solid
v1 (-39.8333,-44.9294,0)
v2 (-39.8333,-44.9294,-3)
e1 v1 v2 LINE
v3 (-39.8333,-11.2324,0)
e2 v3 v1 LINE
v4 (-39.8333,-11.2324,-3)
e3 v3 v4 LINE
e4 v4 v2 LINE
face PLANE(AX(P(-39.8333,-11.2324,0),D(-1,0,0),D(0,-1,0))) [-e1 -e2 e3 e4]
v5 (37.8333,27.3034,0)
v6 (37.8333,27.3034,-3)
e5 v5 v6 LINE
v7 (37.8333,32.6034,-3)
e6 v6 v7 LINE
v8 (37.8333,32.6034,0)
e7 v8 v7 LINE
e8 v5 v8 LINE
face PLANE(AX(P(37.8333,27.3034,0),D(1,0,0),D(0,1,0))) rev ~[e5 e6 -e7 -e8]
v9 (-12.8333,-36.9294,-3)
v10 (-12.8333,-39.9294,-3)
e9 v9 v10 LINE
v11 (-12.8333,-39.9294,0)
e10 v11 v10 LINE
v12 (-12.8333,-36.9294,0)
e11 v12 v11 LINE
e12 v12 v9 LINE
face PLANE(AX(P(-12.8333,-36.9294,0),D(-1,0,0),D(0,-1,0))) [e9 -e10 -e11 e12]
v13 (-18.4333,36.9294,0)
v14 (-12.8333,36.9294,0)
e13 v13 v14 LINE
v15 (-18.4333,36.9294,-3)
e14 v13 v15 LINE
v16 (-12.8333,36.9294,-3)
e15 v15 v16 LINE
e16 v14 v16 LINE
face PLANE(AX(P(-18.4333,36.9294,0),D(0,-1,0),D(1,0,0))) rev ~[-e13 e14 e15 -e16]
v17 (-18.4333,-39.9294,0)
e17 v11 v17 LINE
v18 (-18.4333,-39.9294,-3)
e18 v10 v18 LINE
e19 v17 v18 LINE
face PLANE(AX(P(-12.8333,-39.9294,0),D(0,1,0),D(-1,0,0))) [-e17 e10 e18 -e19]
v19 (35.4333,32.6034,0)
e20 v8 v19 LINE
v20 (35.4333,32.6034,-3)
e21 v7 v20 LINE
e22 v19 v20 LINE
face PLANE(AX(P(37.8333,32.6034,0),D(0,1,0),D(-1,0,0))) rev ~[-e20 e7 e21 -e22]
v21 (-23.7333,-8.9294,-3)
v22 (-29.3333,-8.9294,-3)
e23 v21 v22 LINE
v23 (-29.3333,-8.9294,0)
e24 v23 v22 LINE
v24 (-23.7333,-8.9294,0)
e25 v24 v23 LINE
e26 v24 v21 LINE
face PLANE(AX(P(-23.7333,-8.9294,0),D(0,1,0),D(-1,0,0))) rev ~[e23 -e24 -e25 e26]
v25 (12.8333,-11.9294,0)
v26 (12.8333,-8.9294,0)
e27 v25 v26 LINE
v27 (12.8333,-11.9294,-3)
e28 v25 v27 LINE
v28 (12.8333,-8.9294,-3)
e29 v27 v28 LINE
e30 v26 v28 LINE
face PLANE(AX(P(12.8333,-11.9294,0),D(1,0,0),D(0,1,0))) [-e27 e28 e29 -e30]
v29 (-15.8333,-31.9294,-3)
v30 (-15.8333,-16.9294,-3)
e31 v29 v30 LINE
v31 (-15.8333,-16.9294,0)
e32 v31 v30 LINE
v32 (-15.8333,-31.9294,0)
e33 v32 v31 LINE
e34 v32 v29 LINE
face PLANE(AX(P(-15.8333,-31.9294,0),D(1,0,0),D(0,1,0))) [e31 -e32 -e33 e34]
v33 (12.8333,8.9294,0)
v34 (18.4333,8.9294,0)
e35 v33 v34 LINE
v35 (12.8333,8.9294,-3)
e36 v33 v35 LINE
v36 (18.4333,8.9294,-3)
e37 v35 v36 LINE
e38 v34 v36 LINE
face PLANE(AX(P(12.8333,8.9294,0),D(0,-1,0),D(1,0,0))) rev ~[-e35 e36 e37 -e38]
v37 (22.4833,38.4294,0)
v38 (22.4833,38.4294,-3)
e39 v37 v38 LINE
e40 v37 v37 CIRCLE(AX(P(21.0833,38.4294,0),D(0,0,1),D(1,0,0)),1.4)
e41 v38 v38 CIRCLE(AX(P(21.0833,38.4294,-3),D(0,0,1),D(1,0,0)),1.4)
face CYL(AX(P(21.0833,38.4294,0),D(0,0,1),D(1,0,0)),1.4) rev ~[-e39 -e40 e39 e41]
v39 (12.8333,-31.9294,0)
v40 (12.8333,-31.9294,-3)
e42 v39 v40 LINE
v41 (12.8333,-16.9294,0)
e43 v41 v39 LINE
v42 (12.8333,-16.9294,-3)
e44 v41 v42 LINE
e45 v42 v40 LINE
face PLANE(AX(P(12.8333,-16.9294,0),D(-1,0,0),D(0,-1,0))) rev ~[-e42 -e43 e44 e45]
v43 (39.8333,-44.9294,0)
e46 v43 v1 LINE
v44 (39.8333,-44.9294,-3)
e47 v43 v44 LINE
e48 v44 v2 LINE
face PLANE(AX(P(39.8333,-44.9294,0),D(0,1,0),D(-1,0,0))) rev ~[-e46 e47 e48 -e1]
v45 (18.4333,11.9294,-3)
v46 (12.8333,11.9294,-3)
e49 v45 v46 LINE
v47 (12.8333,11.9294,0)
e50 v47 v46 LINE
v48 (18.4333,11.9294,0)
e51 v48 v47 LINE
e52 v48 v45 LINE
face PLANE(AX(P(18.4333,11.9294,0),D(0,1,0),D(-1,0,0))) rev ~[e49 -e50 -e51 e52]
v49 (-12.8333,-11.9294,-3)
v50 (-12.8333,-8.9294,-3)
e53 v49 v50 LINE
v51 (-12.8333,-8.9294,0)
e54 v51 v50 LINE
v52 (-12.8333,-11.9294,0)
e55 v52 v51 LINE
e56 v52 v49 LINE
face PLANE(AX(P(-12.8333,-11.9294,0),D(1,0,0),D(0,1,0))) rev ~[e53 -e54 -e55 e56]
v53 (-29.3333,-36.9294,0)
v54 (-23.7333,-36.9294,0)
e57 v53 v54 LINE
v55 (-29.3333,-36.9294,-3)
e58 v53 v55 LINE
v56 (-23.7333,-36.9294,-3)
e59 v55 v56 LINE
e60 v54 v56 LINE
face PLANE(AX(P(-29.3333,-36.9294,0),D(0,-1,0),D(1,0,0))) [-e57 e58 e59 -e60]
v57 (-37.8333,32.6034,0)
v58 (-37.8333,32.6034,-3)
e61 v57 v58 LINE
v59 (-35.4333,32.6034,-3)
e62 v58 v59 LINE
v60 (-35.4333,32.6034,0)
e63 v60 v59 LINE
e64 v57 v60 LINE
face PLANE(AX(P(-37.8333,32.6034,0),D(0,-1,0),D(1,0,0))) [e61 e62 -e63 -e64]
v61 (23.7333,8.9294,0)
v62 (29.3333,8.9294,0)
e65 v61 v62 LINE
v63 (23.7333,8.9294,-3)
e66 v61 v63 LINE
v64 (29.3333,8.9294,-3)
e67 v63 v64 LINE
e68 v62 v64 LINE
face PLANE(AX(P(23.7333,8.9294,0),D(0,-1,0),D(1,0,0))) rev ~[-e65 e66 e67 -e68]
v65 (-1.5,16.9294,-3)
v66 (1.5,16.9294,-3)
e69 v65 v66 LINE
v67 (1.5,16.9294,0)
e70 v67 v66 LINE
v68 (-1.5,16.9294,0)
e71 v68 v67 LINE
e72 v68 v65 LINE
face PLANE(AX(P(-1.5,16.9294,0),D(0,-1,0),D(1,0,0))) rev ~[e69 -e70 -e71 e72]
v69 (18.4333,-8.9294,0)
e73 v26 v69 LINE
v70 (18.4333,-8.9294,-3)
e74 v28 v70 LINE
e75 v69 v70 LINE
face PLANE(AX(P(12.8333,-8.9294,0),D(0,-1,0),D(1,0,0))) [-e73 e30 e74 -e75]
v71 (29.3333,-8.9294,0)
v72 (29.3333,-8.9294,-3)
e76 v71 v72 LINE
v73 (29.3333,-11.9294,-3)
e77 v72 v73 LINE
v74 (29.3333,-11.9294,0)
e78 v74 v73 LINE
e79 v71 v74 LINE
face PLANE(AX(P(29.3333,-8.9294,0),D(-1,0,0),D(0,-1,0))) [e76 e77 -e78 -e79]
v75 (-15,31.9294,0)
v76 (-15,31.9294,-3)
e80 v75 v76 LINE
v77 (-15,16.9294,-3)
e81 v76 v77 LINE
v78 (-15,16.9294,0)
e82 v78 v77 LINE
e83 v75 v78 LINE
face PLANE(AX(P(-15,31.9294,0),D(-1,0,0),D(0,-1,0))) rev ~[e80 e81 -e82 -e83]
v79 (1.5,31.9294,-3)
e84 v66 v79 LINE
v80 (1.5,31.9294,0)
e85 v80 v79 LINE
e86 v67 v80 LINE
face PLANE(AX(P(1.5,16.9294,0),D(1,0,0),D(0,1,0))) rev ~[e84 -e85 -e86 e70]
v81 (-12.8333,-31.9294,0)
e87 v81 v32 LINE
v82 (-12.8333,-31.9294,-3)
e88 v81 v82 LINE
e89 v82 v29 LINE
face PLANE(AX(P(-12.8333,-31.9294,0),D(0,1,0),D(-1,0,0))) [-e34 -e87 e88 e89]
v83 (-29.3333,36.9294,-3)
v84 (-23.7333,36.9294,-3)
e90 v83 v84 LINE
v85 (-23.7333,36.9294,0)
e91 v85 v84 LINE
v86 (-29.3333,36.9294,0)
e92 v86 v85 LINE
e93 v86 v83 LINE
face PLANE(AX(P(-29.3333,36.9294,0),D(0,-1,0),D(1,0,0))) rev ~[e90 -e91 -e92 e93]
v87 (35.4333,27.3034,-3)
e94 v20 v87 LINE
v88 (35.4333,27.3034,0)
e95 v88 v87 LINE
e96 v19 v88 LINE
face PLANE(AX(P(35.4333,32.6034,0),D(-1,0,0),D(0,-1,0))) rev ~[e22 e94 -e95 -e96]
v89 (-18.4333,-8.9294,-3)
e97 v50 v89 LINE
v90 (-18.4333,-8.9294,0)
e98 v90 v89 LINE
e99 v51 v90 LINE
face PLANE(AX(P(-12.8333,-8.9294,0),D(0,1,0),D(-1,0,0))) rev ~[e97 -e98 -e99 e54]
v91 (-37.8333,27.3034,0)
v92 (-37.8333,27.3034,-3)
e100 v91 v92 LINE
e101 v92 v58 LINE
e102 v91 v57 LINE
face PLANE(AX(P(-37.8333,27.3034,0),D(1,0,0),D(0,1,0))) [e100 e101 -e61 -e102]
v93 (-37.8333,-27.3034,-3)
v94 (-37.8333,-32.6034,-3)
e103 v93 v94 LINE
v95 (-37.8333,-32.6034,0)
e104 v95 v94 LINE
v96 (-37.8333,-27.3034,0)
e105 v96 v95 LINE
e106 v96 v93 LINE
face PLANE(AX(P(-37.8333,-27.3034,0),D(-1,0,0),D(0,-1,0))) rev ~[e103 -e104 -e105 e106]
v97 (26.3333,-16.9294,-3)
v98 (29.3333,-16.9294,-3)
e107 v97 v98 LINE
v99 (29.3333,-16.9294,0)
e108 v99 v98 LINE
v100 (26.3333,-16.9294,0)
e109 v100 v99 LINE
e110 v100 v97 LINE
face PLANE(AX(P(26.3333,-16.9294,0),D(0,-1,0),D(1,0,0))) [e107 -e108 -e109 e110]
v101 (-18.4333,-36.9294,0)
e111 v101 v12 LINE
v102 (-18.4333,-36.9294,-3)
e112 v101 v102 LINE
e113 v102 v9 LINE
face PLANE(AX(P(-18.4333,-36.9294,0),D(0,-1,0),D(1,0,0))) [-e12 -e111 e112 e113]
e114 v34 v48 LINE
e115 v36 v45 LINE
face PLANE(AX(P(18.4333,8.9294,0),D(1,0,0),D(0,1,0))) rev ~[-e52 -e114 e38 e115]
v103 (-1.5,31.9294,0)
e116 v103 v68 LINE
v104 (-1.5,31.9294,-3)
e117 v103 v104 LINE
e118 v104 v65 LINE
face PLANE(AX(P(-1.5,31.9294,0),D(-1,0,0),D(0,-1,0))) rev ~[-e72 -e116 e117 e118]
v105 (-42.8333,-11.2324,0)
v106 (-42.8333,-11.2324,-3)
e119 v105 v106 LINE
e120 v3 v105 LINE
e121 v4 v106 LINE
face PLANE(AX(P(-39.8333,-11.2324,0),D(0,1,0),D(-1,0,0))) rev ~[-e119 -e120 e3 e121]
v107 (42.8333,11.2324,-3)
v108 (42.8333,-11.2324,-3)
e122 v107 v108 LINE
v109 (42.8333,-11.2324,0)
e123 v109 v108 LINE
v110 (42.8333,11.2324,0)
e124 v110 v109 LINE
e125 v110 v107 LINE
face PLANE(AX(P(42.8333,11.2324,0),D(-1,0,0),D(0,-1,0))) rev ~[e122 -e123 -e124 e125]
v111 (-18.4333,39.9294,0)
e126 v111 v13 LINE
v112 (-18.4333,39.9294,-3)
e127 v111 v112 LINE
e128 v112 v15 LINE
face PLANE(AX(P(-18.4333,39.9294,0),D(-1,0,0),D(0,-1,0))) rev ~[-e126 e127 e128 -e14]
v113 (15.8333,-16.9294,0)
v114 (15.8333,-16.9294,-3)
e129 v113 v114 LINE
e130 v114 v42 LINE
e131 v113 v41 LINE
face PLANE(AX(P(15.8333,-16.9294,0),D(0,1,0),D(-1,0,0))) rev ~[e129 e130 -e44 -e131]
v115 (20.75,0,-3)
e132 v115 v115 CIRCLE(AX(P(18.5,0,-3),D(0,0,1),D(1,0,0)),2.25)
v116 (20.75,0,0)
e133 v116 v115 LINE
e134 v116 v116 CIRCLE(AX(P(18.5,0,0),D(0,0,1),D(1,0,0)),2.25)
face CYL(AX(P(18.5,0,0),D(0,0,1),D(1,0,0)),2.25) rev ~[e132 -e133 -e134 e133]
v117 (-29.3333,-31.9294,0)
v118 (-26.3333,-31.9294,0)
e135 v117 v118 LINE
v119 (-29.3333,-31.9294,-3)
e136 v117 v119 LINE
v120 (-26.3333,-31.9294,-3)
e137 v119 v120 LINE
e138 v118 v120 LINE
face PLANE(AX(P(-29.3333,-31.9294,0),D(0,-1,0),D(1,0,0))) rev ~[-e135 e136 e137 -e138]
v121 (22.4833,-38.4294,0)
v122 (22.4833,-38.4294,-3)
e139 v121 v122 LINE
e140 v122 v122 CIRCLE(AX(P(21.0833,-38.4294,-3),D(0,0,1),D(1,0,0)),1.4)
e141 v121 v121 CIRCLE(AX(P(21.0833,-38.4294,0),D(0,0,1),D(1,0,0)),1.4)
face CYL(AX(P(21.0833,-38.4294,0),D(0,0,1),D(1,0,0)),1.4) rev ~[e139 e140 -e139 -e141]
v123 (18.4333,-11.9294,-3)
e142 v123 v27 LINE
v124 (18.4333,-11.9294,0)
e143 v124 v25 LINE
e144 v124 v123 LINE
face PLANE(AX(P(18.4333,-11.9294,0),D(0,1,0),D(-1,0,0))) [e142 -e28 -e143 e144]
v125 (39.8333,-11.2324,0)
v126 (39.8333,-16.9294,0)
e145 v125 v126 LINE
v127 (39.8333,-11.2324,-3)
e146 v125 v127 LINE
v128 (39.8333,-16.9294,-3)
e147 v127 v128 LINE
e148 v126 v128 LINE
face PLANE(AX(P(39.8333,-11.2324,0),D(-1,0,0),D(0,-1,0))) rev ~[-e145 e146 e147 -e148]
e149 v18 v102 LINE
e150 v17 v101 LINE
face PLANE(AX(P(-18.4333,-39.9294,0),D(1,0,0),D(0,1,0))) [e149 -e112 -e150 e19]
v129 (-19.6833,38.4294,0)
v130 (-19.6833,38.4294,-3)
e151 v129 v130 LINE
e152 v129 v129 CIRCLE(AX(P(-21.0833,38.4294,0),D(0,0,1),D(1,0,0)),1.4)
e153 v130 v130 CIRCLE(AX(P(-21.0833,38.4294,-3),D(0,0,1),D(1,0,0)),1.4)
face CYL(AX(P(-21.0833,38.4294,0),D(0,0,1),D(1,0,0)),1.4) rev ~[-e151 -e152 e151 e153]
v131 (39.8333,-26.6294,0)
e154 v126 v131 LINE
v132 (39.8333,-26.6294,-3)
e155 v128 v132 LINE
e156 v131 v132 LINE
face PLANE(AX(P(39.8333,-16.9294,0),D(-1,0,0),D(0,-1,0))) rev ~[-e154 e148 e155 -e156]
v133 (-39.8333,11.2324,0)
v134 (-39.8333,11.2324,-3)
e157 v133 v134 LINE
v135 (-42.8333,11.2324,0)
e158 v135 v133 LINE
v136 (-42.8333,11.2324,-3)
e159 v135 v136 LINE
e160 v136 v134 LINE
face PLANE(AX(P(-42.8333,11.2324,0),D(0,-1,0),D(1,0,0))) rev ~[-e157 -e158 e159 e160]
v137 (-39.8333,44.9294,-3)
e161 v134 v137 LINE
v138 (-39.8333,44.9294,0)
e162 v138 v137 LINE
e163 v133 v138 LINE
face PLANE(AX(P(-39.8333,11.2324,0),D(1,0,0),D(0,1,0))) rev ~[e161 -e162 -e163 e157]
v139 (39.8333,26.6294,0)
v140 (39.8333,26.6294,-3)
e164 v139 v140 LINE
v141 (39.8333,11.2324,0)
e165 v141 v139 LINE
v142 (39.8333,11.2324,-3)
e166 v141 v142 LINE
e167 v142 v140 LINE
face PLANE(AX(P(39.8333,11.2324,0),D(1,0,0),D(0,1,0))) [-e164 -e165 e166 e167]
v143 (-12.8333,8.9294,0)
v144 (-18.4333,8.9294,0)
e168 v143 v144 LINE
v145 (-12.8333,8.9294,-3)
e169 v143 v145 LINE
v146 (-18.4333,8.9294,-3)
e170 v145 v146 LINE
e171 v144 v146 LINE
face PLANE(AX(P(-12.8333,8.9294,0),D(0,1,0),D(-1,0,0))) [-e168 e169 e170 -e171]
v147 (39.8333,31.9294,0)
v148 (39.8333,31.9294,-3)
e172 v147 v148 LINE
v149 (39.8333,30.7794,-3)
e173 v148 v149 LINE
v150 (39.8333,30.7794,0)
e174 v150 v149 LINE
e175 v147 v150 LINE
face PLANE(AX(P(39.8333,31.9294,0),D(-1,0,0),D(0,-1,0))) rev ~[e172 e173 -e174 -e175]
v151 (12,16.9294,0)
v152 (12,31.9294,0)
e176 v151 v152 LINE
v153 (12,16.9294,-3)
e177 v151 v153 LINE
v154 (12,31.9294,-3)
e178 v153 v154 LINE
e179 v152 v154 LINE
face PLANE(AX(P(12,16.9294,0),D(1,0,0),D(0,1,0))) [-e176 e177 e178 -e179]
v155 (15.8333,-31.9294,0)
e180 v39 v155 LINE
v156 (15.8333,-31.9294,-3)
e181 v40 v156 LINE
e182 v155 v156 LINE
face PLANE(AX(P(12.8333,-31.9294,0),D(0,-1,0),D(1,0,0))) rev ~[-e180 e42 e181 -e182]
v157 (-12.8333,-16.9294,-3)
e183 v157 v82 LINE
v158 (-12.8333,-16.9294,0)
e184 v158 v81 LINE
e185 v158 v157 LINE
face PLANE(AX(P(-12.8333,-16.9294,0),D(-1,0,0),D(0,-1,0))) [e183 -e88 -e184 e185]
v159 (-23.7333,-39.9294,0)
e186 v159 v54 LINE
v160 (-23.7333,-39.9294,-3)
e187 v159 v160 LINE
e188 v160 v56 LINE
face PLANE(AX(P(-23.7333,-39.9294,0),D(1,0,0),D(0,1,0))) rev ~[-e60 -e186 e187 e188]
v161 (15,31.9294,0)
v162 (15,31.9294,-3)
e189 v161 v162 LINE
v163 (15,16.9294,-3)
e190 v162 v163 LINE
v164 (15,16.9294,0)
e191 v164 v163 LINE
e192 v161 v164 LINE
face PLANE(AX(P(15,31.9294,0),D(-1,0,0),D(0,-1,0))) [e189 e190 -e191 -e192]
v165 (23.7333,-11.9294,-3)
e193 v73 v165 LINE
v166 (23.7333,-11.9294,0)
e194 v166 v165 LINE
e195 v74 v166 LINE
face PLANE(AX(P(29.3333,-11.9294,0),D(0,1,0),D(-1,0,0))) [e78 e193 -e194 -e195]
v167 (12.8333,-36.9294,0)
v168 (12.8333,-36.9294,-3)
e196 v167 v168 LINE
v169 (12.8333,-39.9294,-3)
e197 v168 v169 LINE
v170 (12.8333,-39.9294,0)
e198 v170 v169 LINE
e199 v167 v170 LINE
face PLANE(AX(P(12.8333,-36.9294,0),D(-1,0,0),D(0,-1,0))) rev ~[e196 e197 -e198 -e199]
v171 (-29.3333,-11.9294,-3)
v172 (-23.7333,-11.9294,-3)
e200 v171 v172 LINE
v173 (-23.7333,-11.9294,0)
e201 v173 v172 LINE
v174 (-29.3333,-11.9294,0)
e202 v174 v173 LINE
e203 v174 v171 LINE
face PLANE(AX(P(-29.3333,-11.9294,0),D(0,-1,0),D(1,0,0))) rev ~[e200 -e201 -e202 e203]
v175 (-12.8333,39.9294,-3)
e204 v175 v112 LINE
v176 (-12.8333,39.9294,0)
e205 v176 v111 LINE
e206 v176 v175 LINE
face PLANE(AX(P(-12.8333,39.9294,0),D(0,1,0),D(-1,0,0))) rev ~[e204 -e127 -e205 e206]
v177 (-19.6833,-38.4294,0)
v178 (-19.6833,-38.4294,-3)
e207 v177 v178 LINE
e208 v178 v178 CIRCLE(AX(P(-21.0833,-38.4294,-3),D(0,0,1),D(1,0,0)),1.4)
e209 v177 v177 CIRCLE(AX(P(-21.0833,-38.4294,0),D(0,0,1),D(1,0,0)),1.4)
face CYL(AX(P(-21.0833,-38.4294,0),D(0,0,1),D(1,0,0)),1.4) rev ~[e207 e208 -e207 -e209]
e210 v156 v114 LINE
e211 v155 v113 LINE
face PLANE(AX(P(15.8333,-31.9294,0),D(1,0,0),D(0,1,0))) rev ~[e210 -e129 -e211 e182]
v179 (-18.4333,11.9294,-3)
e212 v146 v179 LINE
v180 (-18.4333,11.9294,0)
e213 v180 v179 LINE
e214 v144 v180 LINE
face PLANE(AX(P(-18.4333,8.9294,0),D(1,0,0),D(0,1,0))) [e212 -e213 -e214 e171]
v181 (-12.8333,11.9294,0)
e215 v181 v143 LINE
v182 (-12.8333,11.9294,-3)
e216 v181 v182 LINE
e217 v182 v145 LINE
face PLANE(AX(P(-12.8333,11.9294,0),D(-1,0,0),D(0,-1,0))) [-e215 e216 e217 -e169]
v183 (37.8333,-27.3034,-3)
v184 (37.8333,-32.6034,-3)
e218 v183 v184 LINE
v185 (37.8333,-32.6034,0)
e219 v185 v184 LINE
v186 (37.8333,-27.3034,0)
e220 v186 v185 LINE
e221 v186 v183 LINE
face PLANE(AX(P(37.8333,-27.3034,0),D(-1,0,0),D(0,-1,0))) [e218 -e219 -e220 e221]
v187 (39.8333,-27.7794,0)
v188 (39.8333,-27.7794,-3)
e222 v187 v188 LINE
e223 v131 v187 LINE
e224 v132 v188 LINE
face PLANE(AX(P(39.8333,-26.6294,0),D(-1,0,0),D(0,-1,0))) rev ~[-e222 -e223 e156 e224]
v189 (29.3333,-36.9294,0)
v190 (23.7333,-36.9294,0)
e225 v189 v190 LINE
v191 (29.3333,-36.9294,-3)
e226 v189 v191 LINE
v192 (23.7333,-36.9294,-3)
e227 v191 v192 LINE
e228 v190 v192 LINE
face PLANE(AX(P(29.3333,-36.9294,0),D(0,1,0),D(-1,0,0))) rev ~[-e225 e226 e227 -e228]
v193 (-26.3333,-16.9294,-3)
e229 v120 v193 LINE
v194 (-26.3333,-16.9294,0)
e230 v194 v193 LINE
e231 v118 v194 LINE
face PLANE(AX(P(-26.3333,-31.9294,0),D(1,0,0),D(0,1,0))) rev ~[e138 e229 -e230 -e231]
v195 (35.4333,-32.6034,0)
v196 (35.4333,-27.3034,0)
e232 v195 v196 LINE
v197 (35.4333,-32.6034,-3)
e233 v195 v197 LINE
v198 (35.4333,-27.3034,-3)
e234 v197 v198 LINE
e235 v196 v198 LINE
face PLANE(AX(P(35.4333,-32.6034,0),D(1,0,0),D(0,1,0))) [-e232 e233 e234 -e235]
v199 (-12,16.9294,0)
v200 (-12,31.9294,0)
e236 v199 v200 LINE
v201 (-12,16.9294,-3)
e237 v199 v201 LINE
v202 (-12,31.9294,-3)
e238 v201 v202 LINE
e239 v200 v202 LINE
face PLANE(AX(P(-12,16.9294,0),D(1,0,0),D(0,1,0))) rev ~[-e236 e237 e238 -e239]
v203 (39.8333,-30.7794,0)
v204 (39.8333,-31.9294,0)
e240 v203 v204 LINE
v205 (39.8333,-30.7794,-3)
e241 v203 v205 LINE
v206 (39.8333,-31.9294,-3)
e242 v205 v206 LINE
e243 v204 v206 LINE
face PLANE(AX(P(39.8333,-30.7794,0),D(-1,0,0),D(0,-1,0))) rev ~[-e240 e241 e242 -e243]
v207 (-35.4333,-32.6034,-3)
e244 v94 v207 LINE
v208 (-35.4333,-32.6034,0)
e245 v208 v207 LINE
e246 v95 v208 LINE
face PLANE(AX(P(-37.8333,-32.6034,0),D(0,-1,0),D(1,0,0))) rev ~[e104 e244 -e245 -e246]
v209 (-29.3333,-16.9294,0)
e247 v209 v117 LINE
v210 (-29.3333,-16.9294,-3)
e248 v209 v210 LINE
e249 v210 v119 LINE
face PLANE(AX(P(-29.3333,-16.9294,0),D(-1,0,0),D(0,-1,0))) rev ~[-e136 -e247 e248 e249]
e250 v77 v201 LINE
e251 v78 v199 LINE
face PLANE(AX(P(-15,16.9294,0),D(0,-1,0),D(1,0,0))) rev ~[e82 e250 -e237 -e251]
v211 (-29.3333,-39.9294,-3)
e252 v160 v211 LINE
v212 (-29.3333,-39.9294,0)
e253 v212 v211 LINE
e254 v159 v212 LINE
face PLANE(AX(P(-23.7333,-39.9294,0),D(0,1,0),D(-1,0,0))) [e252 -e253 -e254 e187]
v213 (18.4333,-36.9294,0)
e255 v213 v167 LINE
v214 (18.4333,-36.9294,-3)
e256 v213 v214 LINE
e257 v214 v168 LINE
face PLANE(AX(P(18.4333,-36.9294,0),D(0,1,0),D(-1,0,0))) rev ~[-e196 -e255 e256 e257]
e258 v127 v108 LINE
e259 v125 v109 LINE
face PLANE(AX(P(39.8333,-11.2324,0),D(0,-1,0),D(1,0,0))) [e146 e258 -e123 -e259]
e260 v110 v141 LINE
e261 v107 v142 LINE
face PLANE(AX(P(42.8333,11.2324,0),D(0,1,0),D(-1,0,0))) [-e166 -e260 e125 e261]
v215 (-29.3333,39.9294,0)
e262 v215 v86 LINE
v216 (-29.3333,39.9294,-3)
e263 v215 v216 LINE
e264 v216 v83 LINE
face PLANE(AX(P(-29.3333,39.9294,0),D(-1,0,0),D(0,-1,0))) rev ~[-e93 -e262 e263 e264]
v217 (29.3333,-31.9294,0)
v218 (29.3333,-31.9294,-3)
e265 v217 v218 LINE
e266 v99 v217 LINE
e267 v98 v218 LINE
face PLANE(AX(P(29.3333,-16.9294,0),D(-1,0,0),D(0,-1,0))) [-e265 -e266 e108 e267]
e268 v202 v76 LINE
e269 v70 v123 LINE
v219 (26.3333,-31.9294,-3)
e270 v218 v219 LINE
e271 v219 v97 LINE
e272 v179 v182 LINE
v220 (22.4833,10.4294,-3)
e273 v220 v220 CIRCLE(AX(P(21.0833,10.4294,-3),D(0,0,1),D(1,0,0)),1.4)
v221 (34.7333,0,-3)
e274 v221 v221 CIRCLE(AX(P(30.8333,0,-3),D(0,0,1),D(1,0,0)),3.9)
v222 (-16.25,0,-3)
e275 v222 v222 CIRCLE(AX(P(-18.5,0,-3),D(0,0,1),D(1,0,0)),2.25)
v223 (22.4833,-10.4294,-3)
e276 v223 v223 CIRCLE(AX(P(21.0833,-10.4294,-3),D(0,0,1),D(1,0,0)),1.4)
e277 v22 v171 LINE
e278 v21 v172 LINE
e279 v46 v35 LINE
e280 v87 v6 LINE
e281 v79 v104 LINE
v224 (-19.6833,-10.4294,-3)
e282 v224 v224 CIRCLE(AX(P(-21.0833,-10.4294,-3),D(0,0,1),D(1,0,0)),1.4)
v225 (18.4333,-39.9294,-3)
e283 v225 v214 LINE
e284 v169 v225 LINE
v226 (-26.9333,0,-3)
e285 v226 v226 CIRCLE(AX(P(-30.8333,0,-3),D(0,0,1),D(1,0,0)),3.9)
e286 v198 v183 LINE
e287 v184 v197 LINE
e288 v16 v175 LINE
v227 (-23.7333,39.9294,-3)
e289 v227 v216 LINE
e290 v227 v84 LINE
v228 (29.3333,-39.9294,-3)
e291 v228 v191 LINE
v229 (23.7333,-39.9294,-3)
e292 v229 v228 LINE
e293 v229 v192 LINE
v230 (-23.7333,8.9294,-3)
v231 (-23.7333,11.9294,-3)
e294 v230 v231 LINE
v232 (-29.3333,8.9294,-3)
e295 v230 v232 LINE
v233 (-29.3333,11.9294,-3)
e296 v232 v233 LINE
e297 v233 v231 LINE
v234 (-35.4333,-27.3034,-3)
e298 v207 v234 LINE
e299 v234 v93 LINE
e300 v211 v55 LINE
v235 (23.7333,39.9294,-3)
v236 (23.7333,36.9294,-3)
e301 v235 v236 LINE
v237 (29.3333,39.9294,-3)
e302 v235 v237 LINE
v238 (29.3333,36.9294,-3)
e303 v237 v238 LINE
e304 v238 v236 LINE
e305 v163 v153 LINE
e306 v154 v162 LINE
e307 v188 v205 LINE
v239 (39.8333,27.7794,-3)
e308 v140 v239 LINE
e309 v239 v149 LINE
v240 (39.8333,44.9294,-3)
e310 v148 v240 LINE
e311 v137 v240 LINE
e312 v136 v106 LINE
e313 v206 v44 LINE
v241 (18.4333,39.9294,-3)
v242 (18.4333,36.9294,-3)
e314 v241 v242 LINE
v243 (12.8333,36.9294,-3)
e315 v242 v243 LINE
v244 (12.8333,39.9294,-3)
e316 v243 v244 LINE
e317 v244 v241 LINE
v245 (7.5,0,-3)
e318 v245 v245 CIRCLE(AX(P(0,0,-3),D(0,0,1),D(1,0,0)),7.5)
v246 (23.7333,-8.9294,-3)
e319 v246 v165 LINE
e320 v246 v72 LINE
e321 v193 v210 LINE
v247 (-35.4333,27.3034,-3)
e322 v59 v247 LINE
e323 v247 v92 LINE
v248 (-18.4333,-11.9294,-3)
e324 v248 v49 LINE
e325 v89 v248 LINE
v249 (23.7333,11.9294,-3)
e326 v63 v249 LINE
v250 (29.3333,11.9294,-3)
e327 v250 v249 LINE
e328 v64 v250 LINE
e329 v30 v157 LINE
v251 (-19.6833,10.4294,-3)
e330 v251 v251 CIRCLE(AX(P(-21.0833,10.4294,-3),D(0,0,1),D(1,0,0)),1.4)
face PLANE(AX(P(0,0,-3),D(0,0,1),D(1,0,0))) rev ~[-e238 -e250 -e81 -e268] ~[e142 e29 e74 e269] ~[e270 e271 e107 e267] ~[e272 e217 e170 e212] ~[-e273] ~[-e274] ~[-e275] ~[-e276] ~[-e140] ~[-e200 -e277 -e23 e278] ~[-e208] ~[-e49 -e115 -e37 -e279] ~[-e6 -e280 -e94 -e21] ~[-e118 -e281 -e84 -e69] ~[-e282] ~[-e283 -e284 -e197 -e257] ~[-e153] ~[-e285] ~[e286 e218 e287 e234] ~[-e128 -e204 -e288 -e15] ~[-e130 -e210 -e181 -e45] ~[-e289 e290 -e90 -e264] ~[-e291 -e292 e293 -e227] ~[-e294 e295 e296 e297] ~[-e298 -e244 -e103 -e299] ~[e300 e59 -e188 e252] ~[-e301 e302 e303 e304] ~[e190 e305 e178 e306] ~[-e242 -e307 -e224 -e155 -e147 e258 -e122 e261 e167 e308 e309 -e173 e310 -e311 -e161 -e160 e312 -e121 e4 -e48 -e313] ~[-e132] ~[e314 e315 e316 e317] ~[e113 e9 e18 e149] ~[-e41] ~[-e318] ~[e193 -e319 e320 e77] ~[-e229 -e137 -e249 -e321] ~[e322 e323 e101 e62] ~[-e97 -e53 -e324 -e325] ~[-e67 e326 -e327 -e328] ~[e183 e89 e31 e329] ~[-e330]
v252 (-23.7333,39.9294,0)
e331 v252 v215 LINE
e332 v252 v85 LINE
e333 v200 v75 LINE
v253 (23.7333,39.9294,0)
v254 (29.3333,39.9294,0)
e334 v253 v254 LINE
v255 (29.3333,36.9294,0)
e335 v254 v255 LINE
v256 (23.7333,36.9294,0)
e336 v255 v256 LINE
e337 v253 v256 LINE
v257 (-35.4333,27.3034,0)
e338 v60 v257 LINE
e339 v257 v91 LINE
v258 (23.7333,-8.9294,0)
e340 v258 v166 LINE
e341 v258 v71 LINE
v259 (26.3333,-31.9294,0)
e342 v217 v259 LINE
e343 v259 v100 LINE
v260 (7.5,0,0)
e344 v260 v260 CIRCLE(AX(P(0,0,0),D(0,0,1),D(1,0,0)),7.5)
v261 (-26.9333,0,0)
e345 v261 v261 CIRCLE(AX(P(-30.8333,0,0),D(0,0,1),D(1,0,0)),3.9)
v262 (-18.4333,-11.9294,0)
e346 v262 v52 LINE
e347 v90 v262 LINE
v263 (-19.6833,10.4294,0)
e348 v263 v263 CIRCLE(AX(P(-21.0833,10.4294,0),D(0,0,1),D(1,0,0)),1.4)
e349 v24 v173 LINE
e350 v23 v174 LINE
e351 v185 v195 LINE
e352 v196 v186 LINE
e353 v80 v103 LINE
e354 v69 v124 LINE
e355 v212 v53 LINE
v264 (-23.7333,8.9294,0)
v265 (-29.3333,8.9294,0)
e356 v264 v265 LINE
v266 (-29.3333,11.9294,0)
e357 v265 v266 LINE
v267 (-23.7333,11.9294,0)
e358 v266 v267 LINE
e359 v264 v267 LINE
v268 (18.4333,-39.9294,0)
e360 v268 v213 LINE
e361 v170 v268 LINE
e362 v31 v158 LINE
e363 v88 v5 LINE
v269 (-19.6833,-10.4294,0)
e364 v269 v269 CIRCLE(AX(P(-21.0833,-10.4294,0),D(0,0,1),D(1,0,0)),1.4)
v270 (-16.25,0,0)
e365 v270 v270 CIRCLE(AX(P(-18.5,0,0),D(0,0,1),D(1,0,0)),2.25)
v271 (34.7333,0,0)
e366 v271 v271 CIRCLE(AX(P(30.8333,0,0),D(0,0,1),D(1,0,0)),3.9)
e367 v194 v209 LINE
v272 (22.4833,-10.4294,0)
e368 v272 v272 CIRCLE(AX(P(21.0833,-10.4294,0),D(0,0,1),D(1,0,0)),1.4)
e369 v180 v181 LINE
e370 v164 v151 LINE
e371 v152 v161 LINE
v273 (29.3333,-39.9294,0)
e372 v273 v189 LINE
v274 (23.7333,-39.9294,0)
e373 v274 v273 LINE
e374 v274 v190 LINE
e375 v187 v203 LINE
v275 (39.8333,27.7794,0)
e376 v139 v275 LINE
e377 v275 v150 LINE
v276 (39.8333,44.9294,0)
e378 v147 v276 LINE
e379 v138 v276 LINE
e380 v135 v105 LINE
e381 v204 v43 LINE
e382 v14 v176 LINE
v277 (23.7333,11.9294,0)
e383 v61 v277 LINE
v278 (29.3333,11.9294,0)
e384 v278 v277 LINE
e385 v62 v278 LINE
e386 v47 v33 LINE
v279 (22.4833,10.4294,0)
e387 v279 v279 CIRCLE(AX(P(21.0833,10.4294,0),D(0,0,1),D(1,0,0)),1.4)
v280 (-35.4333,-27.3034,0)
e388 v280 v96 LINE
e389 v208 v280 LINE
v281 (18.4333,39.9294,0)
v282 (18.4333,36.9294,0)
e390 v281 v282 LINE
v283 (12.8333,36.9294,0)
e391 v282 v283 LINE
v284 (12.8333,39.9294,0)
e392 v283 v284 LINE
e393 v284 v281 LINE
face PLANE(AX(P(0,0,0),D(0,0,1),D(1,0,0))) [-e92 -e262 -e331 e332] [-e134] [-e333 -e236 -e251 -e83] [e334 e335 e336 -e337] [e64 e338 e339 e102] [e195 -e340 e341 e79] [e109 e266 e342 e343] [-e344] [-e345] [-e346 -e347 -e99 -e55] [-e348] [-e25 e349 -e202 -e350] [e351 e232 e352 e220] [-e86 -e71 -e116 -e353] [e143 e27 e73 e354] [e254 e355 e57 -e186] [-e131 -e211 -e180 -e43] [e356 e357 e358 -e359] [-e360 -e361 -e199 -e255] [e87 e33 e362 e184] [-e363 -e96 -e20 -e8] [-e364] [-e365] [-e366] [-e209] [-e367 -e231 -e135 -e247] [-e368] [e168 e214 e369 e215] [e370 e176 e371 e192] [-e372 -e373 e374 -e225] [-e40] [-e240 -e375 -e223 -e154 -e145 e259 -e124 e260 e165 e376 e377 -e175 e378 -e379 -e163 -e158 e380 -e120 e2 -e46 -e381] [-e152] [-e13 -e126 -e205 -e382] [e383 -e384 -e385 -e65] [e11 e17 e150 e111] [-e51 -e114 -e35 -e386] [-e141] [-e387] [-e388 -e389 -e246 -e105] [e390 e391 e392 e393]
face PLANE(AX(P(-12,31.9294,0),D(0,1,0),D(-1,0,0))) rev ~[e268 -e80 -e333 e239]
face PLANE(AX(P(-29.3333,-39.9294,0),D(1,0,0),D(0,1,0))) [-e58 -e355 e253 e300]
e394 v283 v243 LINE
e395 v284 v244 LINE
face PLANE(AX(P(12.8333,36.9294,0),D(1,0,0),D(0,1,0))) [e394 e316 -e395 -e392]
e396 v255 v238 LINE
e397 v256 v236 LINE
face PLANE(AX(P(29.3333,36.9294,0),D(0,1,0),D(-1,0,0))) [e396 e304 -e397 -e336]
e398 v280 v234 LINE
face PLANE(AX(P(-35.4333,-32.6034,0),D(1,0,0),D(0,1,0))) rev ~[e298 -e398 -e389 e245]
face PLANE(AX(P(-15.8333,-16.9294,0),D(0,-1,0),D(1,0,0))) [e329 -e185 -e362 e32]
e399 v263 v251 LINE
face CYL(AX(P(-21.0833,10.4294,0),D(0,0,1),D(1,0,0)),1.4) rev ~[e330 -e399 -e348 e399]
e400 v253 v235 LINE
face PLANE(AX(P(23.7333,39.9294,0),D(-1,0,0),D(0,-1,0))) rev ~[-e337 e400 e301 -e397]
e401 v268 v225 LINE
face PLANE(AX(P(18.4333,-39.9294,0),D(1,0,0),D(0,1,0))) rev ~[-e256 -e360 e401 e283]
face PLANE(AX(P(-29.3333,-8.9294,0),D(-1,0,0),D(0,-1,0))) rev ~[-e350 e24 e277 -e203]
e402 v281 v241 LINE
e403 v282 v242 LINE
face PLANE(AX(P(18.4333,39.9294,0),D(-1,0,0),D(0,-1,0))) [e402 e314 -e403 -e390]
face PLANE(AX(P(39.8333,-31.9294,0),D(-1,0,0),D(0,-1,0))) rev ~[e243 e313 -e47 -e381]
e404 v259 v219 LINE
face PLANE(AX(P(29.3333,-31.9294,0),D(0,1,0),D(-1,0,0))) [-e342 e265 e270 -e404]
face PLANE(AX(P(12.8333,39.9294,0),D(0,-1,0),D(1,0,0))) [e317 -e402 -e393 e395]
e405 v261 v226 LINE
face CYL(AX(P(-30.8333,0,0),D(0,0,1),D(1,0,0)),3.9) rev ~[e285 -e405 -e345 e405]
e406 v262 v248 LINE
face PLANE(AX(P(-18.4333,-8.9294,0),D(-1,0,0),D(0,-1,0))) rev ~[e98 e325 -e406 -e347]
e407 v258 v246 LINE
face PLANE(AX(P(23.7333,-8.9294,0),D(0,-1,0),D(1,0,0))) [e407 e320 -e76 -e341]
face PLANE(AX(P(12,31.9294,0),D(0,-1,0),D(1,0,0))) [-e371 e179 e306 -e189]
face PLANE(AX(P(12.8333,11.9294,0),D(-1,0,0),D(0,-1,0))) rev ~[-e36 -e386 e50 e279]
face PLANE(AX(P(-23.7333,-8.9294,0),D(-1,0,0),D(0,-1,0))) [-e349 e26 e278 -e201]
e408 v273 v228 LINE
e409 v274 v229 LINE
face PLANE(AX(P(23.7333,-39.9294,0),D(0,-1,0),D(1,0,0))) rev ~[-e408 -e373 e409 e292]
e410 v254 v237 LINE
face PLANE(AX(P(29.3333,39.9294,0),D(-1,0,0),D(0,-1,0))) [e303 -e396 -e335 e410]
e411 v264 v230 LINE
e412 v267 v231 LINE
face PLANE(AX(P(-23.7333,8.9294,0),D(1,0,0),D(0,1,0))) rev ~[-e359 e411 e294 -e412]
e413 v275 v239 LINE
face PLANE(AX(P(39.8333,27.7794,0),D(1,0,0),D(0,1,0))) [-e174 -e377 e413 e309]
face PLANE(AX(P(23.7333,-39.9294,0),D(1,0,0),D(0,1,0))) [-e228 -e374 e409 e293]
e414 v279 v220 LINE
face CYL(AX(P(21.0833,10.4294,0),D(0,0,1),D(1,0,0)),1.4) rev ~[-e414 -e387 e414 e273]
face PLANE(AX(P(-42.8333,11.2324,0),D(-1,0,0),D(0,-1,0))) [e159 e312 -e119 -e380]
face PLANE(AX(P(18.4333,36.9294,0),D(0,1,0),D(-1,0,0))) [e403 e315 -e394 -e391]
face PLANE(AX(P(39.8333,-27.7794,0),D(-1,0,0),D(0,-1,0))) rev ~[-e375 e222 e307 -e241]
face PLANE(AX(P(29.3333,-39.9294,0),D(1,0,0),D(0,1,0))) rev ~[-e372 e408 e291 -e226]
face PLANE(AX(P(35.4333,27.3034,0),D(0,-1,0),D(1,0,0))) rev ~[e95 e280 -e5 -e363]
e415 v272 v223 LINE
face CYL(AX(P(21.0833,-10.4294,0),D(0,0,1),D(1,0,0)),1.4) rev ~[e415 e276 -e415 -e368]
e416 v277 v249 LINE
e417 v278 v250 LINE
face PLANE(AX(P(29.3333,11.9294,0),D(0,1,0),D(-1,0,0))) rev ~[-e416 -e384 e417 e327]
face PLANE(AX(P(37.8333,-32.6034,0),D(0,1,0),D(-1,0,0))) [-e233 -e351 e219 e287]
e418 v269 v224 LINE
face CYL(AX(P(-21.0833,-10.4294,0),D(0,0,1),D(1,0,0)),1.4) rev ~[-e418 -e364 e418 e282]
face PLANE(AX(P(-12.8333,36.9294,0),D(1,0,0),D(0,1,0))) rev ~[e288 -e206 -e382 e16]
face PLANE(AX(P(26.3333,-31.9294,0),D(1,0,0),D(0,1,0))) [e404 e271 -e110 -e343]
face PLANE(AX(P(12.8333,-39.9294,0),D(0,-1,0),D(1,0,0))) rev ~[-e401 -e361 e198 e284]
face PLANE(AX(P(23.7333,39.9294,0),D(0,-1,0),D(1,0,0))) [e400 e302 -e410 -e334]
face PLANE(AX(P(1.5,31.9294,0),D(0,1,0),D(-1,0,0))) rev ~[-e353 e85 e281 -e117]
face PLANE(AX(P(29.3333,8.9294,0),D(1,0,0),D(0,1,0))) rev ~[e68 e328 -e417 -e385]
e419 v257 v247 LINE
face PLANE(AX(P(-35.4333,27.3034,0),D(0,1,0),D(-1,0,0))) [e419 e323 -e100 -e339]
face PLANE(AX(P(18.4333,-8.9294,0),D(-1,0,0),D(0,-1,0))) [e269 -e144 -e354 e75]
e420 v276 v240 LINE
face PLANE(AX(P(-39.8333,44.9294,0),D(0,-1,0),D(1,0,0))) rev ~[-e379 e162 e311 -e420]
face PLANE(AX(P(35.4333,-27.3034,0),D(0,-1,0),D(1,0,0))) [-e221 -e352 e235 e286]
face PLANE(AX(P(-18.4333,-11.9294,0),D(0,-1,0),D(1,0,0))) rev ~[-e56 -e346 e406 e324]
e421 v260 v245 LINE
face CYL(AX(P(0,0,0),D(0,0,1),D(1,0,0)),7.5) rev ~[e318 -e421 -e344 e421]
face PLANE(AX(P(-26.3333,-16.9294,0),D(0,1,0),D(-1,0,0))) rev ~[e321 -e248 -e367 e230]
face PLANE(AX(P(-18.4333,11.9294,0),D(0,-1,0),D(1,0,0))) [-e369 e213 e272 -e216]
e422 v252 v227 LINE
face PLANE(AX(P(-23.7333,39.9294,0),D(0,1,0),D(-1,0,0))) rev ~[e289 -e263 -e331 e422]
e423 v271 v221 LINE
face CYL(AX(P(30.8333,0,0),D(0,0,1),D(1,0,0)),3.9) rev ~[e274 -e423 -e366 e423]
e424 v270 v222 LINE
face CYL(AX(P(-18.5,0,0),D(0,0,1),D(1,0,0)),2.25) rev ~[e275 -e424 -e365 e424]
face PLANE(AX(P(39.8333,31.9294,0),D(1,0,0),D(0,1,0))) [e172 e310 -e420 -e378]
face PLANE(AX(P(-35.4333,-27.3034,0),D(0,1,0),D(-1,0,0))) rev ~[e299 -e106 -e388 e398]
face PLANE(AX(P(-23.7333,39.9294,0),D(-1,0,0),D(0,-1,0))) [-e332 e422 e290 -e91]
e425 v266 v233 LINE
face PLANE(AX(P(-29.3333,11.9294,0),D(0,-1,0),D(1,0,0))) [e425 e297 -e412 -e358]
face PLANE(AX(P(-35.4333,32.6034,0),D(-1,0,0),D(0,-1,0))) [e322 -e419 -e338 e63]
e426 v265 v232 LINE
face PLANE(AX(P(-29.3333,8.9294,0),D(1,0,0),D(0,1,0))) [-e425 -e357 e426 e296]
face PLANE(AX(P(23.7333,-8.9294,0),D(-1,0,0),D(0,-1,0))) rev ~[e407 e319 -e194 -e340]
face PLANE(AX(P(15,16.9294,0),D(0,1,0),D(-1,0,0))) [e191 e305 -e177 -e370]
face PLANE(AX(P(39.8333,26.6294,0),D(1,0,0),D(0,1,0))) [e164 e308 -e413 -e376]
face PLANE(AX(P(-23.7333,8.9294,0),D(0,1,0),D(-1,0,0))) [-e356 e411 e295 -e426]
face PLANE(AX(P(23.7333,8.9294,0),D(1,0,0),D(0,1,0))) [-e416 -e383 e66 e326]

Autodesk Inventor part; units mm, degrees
ref_plane "YZ Plane" through (0, 0, 0) normal (1, 0, 0) x (0, 1, 0)
ref_plane "XZ Plane" through (0, 0, 0) normal (0, 1, 0) x (-1, 0, 0)
ref_plane "XY Plane" through (0, 0, 0) normal (0, 0, 1) x (1, 0, 0)
sketch "Sketch1" plane through (0, 0, 0) normal (0, 0, 1) x (1, 0, 0)
  circle A0 centre (0, 0) radius 7.5
  circle A1 centre (18.5, 0) radius 2.25
  circle A2 centre (-18.5, 0) radius 2.25
  circle A3 centre (30.8333, 0) radius 3.9
  circle A4 centre (-30.8333, 0) radius 3.9
  line L0 (-51.1513, 0) -> (71.4472, 0) construction
  line L1 (15.8333, -16.9294) -> (39.8333, -16.9294) construction
  line L2 (39.8333, -16.9294) -> (39.8333, -31.9294)
  line L3 (39.8333, -31.9294) -> (15.8333, -31.9294) construction
  line L4 (15.8333, -31.9294) -> (15.8333, -16.9294) construction
  arc A5 (-21.25, 4.9867) -> (-24, 2.1319) centre (-18.93, 0) ccw construction
  line L5 (-24, -2.1319) -> (-24, 2.1319) construction
  arc A6 (-24, -2.1319) -> (-21.25, -4.9867) centre (-18.93, 0) ccw construction
  line L6 (-10.125, -8.9294) -> (-21.25, -4.9867) construction
  arc A7 (-10.125, -8.9294) -> (10.125, -8.9294) centre (0, 0) ccw construction
  line L7 (21.25, -4.9867) -> (10.125, -8.9294) construction
  arc A8 (21.25, -4.9867) -> (24, -2.1319) centre (18.93, 0) ccw construction
  line L8 (24, 2.1319) -> (24, -2.1319) construction
  arc A9 (24, 2.1319) -> (21.25, 4.9867) centre (18.93, 0) ccw construction
  line L9 (10.125, 8.9294) -> (21.25, 4.9867) construction
  arc A10 (10.125, 8.9294) -> (-10.125, 8.9294) centre (0, 0) ccw construction
  line L10 (-21.25, 4.9867) -> (-10.125, 8.9294) construction
  line L11 (0, 50.1847) -> (0, -53.8877) construction
  line L12 (12.8333, -8.9294) -> (18.4333, -8.9294)
  line L13 (29.3333, -8.9294) -> (29.3333, -11.9294)
  line L14 (29.3333, -11.9294) -> (23.7333, -11.9294)
  line L15 (12.8333, -11.9294) -> (12.8333, -8.9294)
  line L16 (27.8333, -15.5254) -> (27.8333, -35.4643) construction
  line L17 (48.9929, -24.4294) -> (9.7408, -24.4294) construction
  line L18 (21.0833, -5.8226) -> (21.0833, -14.0511) construction
  line L19 (39.8333, 26.6294) -> (39.8333, 27.7794)
  line L20 (39.8333, 31.9294) -> (39.8333, 30.7794)
  line L21 (39.8333, 27.7794) -> (39.8333, 26.6294)
  line L22 (39.8333, 30.7794) -> (39.8333, 31.9294)
  line L23 (42.8333, 11.2324) -> (39.8333, 11.2324)
  line L24 (39.8333, -11.2324) -> (42.8333, -11.2324)
  line L25 (39.8333, -26.6294) -> (39.8333, -27.7794)
  line L26 (39.8333, -31.9294) -> (39.8333, -30.7794)
  line L27 (-39.8333, 44.9294) -> (39.8333, 44.9294)
  line L28 (39.8333, -44.9294) -> (-39.8333, -44.9294)
  line L29 (10.125, -8.9294) -> (-10.125, -8.9294) construction
  line L30 (23.7333, -8.9294) -> (23.7333, -11.9294)
  line L31 (18.4333, -8.9294) -> (18.4333, -11.9294)
  line L32 (23.7333, -8.9294) -> (29.3333, -8.9294)
  line L33 (18.4333, -11.9294) -> (12.8333, -11.9294)
  circle A11 centre (21.0833, -10.4294) radius 1.4
  line L34 (12.8333, -39.9294) -> (18.4333, -39.9294)
  line L35 (29.3333, -39.9294) -> (29.3333, -36.9294)
  line L36 (29.3333, -36.9294) -> (23.7333, -36.9294)
  line L37 (12.8333, -36.9294) -> (12.8333, -39.9294)
  line L38 (23.7333, -39.9294) -> (23.7333, -36.9294)
  line L39 (18.4333, -39.9294) -> (18.4333, -36.9294)
  line L40 (23.7333, -39.9294) -> (29.3333, -39.9294)
  line L41 (18.4333, -36.9294) -> (12.8333, -36.9294)
  circle A12 centre (21.0833, -38.4294) radius 1.4
  line L42 (26.3333, -16.9294) -> (29.3333, -16.9294)
  line L43 (29.3333, -16.9294) -> (29.3333, -31.9294)
  line L44 (29.3333, -31.9294) -> (26.3333, -31.9294)
  line L45 (26.3333, -31.9294) -> (26.3333, -16.9294)
  line L46 (15.8333, -16.9294) -> (12.8333, -16.9294)
  line L47 (12.8333, -16.9294) -> (12.8333, -31.9294)
  line L48 (12.8333, -31.9294) -> (15.8333, -31.9294)
  line L49 (15.8333, -31.9294) -> (15.8333, -16.9294)
  line L50 (-12.8333, -8.9294) -> (-18.4333, -8.9294)
  line L51 (-29.3333, -8.9294) -> (-29.3333, -11.9294)
  line L52 (-29.3333, -11.9294) -> (-23.7333, -11.9294)
  line L53 (-12.8333, -11.9294) -> (-12.8333, -8.9294)
  line L54 (-23.7333, -8.9294) -> (-23.7333, -11.9294)
  line L55 (-18.4333, -8.9294) -> (-18.4333, -11.9294)
  line L56 (-23.7333, -8.9294) -> (-29.3333, -8.9294)
  line L57 (-18.4333, -11.9294) -> (-12.8333, -11.9294)
  circle A13 centre (-21.0833, -10.4294) radius 1.4
  circle A14 centre (-21.0833, -38.4294) radius 1.4
  line L58 (-23.7333, -39.9294) -> (-29.3333, -39.9294)
  line L59 (-23.7333, -39.9294) -> (-23.7333, -36.9294)
  line L60 (-29.3333, -36.9294) -> (-23.7333, -36.9294)
  line L61 (-29.3333, -39.9294) -> (-29.3333, -36.9294)
  line L62 (-12.8333, -39.9294) -> (-18.4333, -39.9294)
  line L63 (-18.4333, -39.9294) -> (-18.4333, -36.9294)
  line L64 (-18.4333, -36.9294) -> (-12.8333, -36.9294)
  line L65 (-12.8333, -36.9294) -> (-12.8333, -39.9294)
  line L66 (-26.3333, -16.9294) -> (-29.3333, -16.9294)
  line L67 (-29.3333, -16.9294) -> (-29.3333, -31.9294)
  line L68 (-29.3333, -31.9294) -> (-26.3333, -31.9294)
  line L69 (-26.3333, -31.9294) -> (-26.3333, -16.9294)
  line L70 (-15.8333, -16.9294) -> (-12.8333, -16.9294)
  line L71 (-12.8333, -16.9294) -> (-12.8333, -31.9294)
  line L72 (-12.8333, -31.9294) -> (-15.8333, -31.9294)
  line L73 (-15.8333, -31.9294) -> (-15.8333, -16.9294)
  line L74 (12.8333, 8.9294) -> (18.4333, 8.9294)
  line L75 (29.3333, 8.9294) -> (29.3333, 11.9294)
  line L76 (29.3333, 11.9294) -> (23.7333, 11.9294)
  line L77 (12.8333, 11.9294) -> (12.8333, 8.9294)
  line L78 (23.7333, 8.9294) -> (23.7333, 11.9294)
  line L79 (18.4333, 8.9294) -> (18.4333, 11.9294)
  line L80 (23.7333, 8.9294) -> (29.3333, 8.9294)
  line L81 (18.4333, 11.9294) -> (12.8333, 11.9294)
  circle A15 centre (21.0833, 10.4294) radius 1.4
  circle A16 centre (21.0833, 38.4294) radius 1.4
  line L82 (23.7333, 39.9294) -> (29.3333, 39.9294)
  line L83 (23.7333, 39.9294) -> (23.7333, 36.9294)
  line L84 (29.3333, 36.9294) -> (23.7333, 36.9294)
  line L85 (29.3333, 39.9294) -> (29.3333, 36.9294)
  line L86 (12.8333, 39.9294) -> (18.4333, 39.9294)
  line L87 (18.4333, 39.9294) -> (18.4333, 36.9294)
  line L88 (18.4333, 36.9294) -> (12.8333, 36.9294)
  line L89 (12.8333, 36.9294) -> (12.8333, 39.9294)
  line L90 (-29.3333, 11.9294) -> (-23.7333, 11.9294)
  line L91 (-29.3333, 8.9294) -> (-29.3333, 11.9294)
  line L92 (-23.7333, 8.9294) -> (-29.3333, 8.9294)
  line L93 (-23.7333, 8.9294) -> (-23.7333, 11.9294)
  circle A17 centre (-21.0833, 10.4294) radius 1.4
  line L94 (-18.4333, 8.9294) -> (-18.4333, 11.9294)
  line L95 (-12.8333, 8.9294) -> (-18.4333, 8.9294)
  line L96 (-12.8333, 11.9294) -> (-12.8333, 8.9294)
  line L97 (-18.4333, 11.9294) -> (-12.8333, 11.9294)
  line L98 (-18.4333, 36.9294) -> (-12.8333, 36.9294)
  line L99 (-12.8333, 36.9294) -> (-12.8333, 39.9294)
  line L100 (-12.8333, 39.9294) -> (-18.4333, 39.9294)
  line L101 (-18.4333, 39.9294) -> (-18.4333, 36.9294)
  circle A18 centre (-21.0833, 38.4294) radius 1.4
  line L102 (-23.7333, 39.9294) -> (-23.7333, 36.9294)
  line L103 (-23.7333, 39.9294) -> (-29.3333, 39.9294)
  line L104 (-29.3333, 39.9294) -> (-29.3333, 36.9294)
  line L105 (-29.3333, 36.9294) -> (-23.7333, 36.9294)
  line L106 (12, 31.9294) -> (-12, 31.9294) construction
  line L107 (-12, 31.9294) -> (-12, 16.9294) construction
  line L108 (-12, 16.9294) -> (12, 16.9294) construction
  line L109 (12, 16.9294) -> (12, 31.9294) construction
  line L110 (-17.778, 24.4294) -> (21.8712, 24.4294) construction
  line L111 (12, 31.9294) -> (15, 31.9294)
  line L112 (15, 31.9294) -> (15, 16.9294)
  line L113 (15, 16.9294) -> (12, 16.9294)
  line L114 (12, 16.9294) -> (12, 31.9294)
  line L115 (-12, 31.9294) -> (-15, 31.9294)
  line L116 (-15, 31.9294) -> (-15, 16.9294)
  line L117 (-15, 16.9294) -> (-12, 16.9294)
  line L118 (-12, 16.9294) -> (-12, 31.9294)
  line L119 (-1.5, 16.9294) -> (1.5, 16.9294)
  line L120 (1.5, 16.9294) -> (1.5, 31.9294)
  line L121 (1.5, 31.9294) -> (-1.5, 31.9294)
  line L122 (-1.5, 31.9294) -> (-1.5, 16.9294)
  line L123 (42.8333, 11.2324) -> (42.8333, -11.2324)
  line L124 (39.8333, 11.2324) -> (39.8333, 44.9294)
  line L125 (39.8333, -11.2324) -> (39.8333, -44.9294)
  line L126 (-42.8333, 11.2324) -> (-39.8333, 11.2324)
  line L127 (-39.8333, -11.2324) -> (-42.8333, -11.2324)
  line L128 (-42.8333, 11.2324) -> (-42.8333, -11.2324)
  line L129 (-39.8333, 11.2324) -> (-39.8333, 44.9294)
  line L130 (-39.8333, -11.2324) -> (-39.8333, -44.9294)
  line L131 (35.4333, -27.3034) -> (37.8333, -27.3034)
  line L132 (37.8333, -27.3034) -> (37.8333, -32.6034)
  line L133 (37.8333, -32.6034) -> (35.4333, -32.6034)
  line L134 (35.4333, -32.6034) -> (35.4333, -27.3034)
  line L135 (-35.4333, -27.3034) -> (-37.8333, -27.3034)
  line L136 (-37.8333, -27.3034) -> (-37.8333, -32.6034)
  line L137 (-37.8333, -32.6034) -> (-35.4333, -32.6034)
  line L138 (-35.4333, -32.6034) -> (-35.4333, -27.3034)
  line L139 (35.4333, 27.3034) -> (37.8333, 27.3034)
  line L140 (37.8333, 27.3034) -> (37.8333, 32.6034)
  line L141 (37.8333, 32.6034) -> (35.4333, 32.6034)
  line L142 (35.4333, 32.6034) -> (35.4333, 27.3034)
  line L143 (-35.4333, 27.3034) -> (-37.8333, 27.3034)
  line L144 (-37.8333, 27.3034) -> (-37.8333, 32.6034)
  line L145 (-37.8333, 32.6034) -> (-35.4333, 32.6034)
  line L146 (-35.4333, 32.6034) -> (-35.4333, 27.3034)
  point P0 (0, 0)
  point P1 (22.8911, -3.8157)
  dimension "d2" = 4.5
  dimension "d3" = 4.5
  dimension "d4" = 7.8
  dimension "d5" = 7.8
  dimension "d61" = 15
  dimension "d62" = 24
  dimension "d63" = 15
  dimension "d64" = 3
  dimension "d79" = 3
  dimension "d85" = 22.4647
  dimension "d90" = 5
  dimension "d92" = 5.3
  dimension "d93" = 2.8
  dimension "d94" = 5
  dimension "d95" = 3
  dimension "d96" = 3
  dimension "d97" = 24
  dimension "d98" = 15
  dimension "d99" = 3
  dimension "d100" = 3
  dimension "d101" = 3
  dimension "d102" = 89.8588
  dimension "d103" = 2.4
  dimension "d104" = 5.3
  dimension "d105" = 5
  dimension "d106" = 85.6667
  dimension "d107" = 12.326
extrude "Extrusion1" add sketch "Sketch1" against normal blind 3
properties part number "Y-Anchor_Front-Inner"
